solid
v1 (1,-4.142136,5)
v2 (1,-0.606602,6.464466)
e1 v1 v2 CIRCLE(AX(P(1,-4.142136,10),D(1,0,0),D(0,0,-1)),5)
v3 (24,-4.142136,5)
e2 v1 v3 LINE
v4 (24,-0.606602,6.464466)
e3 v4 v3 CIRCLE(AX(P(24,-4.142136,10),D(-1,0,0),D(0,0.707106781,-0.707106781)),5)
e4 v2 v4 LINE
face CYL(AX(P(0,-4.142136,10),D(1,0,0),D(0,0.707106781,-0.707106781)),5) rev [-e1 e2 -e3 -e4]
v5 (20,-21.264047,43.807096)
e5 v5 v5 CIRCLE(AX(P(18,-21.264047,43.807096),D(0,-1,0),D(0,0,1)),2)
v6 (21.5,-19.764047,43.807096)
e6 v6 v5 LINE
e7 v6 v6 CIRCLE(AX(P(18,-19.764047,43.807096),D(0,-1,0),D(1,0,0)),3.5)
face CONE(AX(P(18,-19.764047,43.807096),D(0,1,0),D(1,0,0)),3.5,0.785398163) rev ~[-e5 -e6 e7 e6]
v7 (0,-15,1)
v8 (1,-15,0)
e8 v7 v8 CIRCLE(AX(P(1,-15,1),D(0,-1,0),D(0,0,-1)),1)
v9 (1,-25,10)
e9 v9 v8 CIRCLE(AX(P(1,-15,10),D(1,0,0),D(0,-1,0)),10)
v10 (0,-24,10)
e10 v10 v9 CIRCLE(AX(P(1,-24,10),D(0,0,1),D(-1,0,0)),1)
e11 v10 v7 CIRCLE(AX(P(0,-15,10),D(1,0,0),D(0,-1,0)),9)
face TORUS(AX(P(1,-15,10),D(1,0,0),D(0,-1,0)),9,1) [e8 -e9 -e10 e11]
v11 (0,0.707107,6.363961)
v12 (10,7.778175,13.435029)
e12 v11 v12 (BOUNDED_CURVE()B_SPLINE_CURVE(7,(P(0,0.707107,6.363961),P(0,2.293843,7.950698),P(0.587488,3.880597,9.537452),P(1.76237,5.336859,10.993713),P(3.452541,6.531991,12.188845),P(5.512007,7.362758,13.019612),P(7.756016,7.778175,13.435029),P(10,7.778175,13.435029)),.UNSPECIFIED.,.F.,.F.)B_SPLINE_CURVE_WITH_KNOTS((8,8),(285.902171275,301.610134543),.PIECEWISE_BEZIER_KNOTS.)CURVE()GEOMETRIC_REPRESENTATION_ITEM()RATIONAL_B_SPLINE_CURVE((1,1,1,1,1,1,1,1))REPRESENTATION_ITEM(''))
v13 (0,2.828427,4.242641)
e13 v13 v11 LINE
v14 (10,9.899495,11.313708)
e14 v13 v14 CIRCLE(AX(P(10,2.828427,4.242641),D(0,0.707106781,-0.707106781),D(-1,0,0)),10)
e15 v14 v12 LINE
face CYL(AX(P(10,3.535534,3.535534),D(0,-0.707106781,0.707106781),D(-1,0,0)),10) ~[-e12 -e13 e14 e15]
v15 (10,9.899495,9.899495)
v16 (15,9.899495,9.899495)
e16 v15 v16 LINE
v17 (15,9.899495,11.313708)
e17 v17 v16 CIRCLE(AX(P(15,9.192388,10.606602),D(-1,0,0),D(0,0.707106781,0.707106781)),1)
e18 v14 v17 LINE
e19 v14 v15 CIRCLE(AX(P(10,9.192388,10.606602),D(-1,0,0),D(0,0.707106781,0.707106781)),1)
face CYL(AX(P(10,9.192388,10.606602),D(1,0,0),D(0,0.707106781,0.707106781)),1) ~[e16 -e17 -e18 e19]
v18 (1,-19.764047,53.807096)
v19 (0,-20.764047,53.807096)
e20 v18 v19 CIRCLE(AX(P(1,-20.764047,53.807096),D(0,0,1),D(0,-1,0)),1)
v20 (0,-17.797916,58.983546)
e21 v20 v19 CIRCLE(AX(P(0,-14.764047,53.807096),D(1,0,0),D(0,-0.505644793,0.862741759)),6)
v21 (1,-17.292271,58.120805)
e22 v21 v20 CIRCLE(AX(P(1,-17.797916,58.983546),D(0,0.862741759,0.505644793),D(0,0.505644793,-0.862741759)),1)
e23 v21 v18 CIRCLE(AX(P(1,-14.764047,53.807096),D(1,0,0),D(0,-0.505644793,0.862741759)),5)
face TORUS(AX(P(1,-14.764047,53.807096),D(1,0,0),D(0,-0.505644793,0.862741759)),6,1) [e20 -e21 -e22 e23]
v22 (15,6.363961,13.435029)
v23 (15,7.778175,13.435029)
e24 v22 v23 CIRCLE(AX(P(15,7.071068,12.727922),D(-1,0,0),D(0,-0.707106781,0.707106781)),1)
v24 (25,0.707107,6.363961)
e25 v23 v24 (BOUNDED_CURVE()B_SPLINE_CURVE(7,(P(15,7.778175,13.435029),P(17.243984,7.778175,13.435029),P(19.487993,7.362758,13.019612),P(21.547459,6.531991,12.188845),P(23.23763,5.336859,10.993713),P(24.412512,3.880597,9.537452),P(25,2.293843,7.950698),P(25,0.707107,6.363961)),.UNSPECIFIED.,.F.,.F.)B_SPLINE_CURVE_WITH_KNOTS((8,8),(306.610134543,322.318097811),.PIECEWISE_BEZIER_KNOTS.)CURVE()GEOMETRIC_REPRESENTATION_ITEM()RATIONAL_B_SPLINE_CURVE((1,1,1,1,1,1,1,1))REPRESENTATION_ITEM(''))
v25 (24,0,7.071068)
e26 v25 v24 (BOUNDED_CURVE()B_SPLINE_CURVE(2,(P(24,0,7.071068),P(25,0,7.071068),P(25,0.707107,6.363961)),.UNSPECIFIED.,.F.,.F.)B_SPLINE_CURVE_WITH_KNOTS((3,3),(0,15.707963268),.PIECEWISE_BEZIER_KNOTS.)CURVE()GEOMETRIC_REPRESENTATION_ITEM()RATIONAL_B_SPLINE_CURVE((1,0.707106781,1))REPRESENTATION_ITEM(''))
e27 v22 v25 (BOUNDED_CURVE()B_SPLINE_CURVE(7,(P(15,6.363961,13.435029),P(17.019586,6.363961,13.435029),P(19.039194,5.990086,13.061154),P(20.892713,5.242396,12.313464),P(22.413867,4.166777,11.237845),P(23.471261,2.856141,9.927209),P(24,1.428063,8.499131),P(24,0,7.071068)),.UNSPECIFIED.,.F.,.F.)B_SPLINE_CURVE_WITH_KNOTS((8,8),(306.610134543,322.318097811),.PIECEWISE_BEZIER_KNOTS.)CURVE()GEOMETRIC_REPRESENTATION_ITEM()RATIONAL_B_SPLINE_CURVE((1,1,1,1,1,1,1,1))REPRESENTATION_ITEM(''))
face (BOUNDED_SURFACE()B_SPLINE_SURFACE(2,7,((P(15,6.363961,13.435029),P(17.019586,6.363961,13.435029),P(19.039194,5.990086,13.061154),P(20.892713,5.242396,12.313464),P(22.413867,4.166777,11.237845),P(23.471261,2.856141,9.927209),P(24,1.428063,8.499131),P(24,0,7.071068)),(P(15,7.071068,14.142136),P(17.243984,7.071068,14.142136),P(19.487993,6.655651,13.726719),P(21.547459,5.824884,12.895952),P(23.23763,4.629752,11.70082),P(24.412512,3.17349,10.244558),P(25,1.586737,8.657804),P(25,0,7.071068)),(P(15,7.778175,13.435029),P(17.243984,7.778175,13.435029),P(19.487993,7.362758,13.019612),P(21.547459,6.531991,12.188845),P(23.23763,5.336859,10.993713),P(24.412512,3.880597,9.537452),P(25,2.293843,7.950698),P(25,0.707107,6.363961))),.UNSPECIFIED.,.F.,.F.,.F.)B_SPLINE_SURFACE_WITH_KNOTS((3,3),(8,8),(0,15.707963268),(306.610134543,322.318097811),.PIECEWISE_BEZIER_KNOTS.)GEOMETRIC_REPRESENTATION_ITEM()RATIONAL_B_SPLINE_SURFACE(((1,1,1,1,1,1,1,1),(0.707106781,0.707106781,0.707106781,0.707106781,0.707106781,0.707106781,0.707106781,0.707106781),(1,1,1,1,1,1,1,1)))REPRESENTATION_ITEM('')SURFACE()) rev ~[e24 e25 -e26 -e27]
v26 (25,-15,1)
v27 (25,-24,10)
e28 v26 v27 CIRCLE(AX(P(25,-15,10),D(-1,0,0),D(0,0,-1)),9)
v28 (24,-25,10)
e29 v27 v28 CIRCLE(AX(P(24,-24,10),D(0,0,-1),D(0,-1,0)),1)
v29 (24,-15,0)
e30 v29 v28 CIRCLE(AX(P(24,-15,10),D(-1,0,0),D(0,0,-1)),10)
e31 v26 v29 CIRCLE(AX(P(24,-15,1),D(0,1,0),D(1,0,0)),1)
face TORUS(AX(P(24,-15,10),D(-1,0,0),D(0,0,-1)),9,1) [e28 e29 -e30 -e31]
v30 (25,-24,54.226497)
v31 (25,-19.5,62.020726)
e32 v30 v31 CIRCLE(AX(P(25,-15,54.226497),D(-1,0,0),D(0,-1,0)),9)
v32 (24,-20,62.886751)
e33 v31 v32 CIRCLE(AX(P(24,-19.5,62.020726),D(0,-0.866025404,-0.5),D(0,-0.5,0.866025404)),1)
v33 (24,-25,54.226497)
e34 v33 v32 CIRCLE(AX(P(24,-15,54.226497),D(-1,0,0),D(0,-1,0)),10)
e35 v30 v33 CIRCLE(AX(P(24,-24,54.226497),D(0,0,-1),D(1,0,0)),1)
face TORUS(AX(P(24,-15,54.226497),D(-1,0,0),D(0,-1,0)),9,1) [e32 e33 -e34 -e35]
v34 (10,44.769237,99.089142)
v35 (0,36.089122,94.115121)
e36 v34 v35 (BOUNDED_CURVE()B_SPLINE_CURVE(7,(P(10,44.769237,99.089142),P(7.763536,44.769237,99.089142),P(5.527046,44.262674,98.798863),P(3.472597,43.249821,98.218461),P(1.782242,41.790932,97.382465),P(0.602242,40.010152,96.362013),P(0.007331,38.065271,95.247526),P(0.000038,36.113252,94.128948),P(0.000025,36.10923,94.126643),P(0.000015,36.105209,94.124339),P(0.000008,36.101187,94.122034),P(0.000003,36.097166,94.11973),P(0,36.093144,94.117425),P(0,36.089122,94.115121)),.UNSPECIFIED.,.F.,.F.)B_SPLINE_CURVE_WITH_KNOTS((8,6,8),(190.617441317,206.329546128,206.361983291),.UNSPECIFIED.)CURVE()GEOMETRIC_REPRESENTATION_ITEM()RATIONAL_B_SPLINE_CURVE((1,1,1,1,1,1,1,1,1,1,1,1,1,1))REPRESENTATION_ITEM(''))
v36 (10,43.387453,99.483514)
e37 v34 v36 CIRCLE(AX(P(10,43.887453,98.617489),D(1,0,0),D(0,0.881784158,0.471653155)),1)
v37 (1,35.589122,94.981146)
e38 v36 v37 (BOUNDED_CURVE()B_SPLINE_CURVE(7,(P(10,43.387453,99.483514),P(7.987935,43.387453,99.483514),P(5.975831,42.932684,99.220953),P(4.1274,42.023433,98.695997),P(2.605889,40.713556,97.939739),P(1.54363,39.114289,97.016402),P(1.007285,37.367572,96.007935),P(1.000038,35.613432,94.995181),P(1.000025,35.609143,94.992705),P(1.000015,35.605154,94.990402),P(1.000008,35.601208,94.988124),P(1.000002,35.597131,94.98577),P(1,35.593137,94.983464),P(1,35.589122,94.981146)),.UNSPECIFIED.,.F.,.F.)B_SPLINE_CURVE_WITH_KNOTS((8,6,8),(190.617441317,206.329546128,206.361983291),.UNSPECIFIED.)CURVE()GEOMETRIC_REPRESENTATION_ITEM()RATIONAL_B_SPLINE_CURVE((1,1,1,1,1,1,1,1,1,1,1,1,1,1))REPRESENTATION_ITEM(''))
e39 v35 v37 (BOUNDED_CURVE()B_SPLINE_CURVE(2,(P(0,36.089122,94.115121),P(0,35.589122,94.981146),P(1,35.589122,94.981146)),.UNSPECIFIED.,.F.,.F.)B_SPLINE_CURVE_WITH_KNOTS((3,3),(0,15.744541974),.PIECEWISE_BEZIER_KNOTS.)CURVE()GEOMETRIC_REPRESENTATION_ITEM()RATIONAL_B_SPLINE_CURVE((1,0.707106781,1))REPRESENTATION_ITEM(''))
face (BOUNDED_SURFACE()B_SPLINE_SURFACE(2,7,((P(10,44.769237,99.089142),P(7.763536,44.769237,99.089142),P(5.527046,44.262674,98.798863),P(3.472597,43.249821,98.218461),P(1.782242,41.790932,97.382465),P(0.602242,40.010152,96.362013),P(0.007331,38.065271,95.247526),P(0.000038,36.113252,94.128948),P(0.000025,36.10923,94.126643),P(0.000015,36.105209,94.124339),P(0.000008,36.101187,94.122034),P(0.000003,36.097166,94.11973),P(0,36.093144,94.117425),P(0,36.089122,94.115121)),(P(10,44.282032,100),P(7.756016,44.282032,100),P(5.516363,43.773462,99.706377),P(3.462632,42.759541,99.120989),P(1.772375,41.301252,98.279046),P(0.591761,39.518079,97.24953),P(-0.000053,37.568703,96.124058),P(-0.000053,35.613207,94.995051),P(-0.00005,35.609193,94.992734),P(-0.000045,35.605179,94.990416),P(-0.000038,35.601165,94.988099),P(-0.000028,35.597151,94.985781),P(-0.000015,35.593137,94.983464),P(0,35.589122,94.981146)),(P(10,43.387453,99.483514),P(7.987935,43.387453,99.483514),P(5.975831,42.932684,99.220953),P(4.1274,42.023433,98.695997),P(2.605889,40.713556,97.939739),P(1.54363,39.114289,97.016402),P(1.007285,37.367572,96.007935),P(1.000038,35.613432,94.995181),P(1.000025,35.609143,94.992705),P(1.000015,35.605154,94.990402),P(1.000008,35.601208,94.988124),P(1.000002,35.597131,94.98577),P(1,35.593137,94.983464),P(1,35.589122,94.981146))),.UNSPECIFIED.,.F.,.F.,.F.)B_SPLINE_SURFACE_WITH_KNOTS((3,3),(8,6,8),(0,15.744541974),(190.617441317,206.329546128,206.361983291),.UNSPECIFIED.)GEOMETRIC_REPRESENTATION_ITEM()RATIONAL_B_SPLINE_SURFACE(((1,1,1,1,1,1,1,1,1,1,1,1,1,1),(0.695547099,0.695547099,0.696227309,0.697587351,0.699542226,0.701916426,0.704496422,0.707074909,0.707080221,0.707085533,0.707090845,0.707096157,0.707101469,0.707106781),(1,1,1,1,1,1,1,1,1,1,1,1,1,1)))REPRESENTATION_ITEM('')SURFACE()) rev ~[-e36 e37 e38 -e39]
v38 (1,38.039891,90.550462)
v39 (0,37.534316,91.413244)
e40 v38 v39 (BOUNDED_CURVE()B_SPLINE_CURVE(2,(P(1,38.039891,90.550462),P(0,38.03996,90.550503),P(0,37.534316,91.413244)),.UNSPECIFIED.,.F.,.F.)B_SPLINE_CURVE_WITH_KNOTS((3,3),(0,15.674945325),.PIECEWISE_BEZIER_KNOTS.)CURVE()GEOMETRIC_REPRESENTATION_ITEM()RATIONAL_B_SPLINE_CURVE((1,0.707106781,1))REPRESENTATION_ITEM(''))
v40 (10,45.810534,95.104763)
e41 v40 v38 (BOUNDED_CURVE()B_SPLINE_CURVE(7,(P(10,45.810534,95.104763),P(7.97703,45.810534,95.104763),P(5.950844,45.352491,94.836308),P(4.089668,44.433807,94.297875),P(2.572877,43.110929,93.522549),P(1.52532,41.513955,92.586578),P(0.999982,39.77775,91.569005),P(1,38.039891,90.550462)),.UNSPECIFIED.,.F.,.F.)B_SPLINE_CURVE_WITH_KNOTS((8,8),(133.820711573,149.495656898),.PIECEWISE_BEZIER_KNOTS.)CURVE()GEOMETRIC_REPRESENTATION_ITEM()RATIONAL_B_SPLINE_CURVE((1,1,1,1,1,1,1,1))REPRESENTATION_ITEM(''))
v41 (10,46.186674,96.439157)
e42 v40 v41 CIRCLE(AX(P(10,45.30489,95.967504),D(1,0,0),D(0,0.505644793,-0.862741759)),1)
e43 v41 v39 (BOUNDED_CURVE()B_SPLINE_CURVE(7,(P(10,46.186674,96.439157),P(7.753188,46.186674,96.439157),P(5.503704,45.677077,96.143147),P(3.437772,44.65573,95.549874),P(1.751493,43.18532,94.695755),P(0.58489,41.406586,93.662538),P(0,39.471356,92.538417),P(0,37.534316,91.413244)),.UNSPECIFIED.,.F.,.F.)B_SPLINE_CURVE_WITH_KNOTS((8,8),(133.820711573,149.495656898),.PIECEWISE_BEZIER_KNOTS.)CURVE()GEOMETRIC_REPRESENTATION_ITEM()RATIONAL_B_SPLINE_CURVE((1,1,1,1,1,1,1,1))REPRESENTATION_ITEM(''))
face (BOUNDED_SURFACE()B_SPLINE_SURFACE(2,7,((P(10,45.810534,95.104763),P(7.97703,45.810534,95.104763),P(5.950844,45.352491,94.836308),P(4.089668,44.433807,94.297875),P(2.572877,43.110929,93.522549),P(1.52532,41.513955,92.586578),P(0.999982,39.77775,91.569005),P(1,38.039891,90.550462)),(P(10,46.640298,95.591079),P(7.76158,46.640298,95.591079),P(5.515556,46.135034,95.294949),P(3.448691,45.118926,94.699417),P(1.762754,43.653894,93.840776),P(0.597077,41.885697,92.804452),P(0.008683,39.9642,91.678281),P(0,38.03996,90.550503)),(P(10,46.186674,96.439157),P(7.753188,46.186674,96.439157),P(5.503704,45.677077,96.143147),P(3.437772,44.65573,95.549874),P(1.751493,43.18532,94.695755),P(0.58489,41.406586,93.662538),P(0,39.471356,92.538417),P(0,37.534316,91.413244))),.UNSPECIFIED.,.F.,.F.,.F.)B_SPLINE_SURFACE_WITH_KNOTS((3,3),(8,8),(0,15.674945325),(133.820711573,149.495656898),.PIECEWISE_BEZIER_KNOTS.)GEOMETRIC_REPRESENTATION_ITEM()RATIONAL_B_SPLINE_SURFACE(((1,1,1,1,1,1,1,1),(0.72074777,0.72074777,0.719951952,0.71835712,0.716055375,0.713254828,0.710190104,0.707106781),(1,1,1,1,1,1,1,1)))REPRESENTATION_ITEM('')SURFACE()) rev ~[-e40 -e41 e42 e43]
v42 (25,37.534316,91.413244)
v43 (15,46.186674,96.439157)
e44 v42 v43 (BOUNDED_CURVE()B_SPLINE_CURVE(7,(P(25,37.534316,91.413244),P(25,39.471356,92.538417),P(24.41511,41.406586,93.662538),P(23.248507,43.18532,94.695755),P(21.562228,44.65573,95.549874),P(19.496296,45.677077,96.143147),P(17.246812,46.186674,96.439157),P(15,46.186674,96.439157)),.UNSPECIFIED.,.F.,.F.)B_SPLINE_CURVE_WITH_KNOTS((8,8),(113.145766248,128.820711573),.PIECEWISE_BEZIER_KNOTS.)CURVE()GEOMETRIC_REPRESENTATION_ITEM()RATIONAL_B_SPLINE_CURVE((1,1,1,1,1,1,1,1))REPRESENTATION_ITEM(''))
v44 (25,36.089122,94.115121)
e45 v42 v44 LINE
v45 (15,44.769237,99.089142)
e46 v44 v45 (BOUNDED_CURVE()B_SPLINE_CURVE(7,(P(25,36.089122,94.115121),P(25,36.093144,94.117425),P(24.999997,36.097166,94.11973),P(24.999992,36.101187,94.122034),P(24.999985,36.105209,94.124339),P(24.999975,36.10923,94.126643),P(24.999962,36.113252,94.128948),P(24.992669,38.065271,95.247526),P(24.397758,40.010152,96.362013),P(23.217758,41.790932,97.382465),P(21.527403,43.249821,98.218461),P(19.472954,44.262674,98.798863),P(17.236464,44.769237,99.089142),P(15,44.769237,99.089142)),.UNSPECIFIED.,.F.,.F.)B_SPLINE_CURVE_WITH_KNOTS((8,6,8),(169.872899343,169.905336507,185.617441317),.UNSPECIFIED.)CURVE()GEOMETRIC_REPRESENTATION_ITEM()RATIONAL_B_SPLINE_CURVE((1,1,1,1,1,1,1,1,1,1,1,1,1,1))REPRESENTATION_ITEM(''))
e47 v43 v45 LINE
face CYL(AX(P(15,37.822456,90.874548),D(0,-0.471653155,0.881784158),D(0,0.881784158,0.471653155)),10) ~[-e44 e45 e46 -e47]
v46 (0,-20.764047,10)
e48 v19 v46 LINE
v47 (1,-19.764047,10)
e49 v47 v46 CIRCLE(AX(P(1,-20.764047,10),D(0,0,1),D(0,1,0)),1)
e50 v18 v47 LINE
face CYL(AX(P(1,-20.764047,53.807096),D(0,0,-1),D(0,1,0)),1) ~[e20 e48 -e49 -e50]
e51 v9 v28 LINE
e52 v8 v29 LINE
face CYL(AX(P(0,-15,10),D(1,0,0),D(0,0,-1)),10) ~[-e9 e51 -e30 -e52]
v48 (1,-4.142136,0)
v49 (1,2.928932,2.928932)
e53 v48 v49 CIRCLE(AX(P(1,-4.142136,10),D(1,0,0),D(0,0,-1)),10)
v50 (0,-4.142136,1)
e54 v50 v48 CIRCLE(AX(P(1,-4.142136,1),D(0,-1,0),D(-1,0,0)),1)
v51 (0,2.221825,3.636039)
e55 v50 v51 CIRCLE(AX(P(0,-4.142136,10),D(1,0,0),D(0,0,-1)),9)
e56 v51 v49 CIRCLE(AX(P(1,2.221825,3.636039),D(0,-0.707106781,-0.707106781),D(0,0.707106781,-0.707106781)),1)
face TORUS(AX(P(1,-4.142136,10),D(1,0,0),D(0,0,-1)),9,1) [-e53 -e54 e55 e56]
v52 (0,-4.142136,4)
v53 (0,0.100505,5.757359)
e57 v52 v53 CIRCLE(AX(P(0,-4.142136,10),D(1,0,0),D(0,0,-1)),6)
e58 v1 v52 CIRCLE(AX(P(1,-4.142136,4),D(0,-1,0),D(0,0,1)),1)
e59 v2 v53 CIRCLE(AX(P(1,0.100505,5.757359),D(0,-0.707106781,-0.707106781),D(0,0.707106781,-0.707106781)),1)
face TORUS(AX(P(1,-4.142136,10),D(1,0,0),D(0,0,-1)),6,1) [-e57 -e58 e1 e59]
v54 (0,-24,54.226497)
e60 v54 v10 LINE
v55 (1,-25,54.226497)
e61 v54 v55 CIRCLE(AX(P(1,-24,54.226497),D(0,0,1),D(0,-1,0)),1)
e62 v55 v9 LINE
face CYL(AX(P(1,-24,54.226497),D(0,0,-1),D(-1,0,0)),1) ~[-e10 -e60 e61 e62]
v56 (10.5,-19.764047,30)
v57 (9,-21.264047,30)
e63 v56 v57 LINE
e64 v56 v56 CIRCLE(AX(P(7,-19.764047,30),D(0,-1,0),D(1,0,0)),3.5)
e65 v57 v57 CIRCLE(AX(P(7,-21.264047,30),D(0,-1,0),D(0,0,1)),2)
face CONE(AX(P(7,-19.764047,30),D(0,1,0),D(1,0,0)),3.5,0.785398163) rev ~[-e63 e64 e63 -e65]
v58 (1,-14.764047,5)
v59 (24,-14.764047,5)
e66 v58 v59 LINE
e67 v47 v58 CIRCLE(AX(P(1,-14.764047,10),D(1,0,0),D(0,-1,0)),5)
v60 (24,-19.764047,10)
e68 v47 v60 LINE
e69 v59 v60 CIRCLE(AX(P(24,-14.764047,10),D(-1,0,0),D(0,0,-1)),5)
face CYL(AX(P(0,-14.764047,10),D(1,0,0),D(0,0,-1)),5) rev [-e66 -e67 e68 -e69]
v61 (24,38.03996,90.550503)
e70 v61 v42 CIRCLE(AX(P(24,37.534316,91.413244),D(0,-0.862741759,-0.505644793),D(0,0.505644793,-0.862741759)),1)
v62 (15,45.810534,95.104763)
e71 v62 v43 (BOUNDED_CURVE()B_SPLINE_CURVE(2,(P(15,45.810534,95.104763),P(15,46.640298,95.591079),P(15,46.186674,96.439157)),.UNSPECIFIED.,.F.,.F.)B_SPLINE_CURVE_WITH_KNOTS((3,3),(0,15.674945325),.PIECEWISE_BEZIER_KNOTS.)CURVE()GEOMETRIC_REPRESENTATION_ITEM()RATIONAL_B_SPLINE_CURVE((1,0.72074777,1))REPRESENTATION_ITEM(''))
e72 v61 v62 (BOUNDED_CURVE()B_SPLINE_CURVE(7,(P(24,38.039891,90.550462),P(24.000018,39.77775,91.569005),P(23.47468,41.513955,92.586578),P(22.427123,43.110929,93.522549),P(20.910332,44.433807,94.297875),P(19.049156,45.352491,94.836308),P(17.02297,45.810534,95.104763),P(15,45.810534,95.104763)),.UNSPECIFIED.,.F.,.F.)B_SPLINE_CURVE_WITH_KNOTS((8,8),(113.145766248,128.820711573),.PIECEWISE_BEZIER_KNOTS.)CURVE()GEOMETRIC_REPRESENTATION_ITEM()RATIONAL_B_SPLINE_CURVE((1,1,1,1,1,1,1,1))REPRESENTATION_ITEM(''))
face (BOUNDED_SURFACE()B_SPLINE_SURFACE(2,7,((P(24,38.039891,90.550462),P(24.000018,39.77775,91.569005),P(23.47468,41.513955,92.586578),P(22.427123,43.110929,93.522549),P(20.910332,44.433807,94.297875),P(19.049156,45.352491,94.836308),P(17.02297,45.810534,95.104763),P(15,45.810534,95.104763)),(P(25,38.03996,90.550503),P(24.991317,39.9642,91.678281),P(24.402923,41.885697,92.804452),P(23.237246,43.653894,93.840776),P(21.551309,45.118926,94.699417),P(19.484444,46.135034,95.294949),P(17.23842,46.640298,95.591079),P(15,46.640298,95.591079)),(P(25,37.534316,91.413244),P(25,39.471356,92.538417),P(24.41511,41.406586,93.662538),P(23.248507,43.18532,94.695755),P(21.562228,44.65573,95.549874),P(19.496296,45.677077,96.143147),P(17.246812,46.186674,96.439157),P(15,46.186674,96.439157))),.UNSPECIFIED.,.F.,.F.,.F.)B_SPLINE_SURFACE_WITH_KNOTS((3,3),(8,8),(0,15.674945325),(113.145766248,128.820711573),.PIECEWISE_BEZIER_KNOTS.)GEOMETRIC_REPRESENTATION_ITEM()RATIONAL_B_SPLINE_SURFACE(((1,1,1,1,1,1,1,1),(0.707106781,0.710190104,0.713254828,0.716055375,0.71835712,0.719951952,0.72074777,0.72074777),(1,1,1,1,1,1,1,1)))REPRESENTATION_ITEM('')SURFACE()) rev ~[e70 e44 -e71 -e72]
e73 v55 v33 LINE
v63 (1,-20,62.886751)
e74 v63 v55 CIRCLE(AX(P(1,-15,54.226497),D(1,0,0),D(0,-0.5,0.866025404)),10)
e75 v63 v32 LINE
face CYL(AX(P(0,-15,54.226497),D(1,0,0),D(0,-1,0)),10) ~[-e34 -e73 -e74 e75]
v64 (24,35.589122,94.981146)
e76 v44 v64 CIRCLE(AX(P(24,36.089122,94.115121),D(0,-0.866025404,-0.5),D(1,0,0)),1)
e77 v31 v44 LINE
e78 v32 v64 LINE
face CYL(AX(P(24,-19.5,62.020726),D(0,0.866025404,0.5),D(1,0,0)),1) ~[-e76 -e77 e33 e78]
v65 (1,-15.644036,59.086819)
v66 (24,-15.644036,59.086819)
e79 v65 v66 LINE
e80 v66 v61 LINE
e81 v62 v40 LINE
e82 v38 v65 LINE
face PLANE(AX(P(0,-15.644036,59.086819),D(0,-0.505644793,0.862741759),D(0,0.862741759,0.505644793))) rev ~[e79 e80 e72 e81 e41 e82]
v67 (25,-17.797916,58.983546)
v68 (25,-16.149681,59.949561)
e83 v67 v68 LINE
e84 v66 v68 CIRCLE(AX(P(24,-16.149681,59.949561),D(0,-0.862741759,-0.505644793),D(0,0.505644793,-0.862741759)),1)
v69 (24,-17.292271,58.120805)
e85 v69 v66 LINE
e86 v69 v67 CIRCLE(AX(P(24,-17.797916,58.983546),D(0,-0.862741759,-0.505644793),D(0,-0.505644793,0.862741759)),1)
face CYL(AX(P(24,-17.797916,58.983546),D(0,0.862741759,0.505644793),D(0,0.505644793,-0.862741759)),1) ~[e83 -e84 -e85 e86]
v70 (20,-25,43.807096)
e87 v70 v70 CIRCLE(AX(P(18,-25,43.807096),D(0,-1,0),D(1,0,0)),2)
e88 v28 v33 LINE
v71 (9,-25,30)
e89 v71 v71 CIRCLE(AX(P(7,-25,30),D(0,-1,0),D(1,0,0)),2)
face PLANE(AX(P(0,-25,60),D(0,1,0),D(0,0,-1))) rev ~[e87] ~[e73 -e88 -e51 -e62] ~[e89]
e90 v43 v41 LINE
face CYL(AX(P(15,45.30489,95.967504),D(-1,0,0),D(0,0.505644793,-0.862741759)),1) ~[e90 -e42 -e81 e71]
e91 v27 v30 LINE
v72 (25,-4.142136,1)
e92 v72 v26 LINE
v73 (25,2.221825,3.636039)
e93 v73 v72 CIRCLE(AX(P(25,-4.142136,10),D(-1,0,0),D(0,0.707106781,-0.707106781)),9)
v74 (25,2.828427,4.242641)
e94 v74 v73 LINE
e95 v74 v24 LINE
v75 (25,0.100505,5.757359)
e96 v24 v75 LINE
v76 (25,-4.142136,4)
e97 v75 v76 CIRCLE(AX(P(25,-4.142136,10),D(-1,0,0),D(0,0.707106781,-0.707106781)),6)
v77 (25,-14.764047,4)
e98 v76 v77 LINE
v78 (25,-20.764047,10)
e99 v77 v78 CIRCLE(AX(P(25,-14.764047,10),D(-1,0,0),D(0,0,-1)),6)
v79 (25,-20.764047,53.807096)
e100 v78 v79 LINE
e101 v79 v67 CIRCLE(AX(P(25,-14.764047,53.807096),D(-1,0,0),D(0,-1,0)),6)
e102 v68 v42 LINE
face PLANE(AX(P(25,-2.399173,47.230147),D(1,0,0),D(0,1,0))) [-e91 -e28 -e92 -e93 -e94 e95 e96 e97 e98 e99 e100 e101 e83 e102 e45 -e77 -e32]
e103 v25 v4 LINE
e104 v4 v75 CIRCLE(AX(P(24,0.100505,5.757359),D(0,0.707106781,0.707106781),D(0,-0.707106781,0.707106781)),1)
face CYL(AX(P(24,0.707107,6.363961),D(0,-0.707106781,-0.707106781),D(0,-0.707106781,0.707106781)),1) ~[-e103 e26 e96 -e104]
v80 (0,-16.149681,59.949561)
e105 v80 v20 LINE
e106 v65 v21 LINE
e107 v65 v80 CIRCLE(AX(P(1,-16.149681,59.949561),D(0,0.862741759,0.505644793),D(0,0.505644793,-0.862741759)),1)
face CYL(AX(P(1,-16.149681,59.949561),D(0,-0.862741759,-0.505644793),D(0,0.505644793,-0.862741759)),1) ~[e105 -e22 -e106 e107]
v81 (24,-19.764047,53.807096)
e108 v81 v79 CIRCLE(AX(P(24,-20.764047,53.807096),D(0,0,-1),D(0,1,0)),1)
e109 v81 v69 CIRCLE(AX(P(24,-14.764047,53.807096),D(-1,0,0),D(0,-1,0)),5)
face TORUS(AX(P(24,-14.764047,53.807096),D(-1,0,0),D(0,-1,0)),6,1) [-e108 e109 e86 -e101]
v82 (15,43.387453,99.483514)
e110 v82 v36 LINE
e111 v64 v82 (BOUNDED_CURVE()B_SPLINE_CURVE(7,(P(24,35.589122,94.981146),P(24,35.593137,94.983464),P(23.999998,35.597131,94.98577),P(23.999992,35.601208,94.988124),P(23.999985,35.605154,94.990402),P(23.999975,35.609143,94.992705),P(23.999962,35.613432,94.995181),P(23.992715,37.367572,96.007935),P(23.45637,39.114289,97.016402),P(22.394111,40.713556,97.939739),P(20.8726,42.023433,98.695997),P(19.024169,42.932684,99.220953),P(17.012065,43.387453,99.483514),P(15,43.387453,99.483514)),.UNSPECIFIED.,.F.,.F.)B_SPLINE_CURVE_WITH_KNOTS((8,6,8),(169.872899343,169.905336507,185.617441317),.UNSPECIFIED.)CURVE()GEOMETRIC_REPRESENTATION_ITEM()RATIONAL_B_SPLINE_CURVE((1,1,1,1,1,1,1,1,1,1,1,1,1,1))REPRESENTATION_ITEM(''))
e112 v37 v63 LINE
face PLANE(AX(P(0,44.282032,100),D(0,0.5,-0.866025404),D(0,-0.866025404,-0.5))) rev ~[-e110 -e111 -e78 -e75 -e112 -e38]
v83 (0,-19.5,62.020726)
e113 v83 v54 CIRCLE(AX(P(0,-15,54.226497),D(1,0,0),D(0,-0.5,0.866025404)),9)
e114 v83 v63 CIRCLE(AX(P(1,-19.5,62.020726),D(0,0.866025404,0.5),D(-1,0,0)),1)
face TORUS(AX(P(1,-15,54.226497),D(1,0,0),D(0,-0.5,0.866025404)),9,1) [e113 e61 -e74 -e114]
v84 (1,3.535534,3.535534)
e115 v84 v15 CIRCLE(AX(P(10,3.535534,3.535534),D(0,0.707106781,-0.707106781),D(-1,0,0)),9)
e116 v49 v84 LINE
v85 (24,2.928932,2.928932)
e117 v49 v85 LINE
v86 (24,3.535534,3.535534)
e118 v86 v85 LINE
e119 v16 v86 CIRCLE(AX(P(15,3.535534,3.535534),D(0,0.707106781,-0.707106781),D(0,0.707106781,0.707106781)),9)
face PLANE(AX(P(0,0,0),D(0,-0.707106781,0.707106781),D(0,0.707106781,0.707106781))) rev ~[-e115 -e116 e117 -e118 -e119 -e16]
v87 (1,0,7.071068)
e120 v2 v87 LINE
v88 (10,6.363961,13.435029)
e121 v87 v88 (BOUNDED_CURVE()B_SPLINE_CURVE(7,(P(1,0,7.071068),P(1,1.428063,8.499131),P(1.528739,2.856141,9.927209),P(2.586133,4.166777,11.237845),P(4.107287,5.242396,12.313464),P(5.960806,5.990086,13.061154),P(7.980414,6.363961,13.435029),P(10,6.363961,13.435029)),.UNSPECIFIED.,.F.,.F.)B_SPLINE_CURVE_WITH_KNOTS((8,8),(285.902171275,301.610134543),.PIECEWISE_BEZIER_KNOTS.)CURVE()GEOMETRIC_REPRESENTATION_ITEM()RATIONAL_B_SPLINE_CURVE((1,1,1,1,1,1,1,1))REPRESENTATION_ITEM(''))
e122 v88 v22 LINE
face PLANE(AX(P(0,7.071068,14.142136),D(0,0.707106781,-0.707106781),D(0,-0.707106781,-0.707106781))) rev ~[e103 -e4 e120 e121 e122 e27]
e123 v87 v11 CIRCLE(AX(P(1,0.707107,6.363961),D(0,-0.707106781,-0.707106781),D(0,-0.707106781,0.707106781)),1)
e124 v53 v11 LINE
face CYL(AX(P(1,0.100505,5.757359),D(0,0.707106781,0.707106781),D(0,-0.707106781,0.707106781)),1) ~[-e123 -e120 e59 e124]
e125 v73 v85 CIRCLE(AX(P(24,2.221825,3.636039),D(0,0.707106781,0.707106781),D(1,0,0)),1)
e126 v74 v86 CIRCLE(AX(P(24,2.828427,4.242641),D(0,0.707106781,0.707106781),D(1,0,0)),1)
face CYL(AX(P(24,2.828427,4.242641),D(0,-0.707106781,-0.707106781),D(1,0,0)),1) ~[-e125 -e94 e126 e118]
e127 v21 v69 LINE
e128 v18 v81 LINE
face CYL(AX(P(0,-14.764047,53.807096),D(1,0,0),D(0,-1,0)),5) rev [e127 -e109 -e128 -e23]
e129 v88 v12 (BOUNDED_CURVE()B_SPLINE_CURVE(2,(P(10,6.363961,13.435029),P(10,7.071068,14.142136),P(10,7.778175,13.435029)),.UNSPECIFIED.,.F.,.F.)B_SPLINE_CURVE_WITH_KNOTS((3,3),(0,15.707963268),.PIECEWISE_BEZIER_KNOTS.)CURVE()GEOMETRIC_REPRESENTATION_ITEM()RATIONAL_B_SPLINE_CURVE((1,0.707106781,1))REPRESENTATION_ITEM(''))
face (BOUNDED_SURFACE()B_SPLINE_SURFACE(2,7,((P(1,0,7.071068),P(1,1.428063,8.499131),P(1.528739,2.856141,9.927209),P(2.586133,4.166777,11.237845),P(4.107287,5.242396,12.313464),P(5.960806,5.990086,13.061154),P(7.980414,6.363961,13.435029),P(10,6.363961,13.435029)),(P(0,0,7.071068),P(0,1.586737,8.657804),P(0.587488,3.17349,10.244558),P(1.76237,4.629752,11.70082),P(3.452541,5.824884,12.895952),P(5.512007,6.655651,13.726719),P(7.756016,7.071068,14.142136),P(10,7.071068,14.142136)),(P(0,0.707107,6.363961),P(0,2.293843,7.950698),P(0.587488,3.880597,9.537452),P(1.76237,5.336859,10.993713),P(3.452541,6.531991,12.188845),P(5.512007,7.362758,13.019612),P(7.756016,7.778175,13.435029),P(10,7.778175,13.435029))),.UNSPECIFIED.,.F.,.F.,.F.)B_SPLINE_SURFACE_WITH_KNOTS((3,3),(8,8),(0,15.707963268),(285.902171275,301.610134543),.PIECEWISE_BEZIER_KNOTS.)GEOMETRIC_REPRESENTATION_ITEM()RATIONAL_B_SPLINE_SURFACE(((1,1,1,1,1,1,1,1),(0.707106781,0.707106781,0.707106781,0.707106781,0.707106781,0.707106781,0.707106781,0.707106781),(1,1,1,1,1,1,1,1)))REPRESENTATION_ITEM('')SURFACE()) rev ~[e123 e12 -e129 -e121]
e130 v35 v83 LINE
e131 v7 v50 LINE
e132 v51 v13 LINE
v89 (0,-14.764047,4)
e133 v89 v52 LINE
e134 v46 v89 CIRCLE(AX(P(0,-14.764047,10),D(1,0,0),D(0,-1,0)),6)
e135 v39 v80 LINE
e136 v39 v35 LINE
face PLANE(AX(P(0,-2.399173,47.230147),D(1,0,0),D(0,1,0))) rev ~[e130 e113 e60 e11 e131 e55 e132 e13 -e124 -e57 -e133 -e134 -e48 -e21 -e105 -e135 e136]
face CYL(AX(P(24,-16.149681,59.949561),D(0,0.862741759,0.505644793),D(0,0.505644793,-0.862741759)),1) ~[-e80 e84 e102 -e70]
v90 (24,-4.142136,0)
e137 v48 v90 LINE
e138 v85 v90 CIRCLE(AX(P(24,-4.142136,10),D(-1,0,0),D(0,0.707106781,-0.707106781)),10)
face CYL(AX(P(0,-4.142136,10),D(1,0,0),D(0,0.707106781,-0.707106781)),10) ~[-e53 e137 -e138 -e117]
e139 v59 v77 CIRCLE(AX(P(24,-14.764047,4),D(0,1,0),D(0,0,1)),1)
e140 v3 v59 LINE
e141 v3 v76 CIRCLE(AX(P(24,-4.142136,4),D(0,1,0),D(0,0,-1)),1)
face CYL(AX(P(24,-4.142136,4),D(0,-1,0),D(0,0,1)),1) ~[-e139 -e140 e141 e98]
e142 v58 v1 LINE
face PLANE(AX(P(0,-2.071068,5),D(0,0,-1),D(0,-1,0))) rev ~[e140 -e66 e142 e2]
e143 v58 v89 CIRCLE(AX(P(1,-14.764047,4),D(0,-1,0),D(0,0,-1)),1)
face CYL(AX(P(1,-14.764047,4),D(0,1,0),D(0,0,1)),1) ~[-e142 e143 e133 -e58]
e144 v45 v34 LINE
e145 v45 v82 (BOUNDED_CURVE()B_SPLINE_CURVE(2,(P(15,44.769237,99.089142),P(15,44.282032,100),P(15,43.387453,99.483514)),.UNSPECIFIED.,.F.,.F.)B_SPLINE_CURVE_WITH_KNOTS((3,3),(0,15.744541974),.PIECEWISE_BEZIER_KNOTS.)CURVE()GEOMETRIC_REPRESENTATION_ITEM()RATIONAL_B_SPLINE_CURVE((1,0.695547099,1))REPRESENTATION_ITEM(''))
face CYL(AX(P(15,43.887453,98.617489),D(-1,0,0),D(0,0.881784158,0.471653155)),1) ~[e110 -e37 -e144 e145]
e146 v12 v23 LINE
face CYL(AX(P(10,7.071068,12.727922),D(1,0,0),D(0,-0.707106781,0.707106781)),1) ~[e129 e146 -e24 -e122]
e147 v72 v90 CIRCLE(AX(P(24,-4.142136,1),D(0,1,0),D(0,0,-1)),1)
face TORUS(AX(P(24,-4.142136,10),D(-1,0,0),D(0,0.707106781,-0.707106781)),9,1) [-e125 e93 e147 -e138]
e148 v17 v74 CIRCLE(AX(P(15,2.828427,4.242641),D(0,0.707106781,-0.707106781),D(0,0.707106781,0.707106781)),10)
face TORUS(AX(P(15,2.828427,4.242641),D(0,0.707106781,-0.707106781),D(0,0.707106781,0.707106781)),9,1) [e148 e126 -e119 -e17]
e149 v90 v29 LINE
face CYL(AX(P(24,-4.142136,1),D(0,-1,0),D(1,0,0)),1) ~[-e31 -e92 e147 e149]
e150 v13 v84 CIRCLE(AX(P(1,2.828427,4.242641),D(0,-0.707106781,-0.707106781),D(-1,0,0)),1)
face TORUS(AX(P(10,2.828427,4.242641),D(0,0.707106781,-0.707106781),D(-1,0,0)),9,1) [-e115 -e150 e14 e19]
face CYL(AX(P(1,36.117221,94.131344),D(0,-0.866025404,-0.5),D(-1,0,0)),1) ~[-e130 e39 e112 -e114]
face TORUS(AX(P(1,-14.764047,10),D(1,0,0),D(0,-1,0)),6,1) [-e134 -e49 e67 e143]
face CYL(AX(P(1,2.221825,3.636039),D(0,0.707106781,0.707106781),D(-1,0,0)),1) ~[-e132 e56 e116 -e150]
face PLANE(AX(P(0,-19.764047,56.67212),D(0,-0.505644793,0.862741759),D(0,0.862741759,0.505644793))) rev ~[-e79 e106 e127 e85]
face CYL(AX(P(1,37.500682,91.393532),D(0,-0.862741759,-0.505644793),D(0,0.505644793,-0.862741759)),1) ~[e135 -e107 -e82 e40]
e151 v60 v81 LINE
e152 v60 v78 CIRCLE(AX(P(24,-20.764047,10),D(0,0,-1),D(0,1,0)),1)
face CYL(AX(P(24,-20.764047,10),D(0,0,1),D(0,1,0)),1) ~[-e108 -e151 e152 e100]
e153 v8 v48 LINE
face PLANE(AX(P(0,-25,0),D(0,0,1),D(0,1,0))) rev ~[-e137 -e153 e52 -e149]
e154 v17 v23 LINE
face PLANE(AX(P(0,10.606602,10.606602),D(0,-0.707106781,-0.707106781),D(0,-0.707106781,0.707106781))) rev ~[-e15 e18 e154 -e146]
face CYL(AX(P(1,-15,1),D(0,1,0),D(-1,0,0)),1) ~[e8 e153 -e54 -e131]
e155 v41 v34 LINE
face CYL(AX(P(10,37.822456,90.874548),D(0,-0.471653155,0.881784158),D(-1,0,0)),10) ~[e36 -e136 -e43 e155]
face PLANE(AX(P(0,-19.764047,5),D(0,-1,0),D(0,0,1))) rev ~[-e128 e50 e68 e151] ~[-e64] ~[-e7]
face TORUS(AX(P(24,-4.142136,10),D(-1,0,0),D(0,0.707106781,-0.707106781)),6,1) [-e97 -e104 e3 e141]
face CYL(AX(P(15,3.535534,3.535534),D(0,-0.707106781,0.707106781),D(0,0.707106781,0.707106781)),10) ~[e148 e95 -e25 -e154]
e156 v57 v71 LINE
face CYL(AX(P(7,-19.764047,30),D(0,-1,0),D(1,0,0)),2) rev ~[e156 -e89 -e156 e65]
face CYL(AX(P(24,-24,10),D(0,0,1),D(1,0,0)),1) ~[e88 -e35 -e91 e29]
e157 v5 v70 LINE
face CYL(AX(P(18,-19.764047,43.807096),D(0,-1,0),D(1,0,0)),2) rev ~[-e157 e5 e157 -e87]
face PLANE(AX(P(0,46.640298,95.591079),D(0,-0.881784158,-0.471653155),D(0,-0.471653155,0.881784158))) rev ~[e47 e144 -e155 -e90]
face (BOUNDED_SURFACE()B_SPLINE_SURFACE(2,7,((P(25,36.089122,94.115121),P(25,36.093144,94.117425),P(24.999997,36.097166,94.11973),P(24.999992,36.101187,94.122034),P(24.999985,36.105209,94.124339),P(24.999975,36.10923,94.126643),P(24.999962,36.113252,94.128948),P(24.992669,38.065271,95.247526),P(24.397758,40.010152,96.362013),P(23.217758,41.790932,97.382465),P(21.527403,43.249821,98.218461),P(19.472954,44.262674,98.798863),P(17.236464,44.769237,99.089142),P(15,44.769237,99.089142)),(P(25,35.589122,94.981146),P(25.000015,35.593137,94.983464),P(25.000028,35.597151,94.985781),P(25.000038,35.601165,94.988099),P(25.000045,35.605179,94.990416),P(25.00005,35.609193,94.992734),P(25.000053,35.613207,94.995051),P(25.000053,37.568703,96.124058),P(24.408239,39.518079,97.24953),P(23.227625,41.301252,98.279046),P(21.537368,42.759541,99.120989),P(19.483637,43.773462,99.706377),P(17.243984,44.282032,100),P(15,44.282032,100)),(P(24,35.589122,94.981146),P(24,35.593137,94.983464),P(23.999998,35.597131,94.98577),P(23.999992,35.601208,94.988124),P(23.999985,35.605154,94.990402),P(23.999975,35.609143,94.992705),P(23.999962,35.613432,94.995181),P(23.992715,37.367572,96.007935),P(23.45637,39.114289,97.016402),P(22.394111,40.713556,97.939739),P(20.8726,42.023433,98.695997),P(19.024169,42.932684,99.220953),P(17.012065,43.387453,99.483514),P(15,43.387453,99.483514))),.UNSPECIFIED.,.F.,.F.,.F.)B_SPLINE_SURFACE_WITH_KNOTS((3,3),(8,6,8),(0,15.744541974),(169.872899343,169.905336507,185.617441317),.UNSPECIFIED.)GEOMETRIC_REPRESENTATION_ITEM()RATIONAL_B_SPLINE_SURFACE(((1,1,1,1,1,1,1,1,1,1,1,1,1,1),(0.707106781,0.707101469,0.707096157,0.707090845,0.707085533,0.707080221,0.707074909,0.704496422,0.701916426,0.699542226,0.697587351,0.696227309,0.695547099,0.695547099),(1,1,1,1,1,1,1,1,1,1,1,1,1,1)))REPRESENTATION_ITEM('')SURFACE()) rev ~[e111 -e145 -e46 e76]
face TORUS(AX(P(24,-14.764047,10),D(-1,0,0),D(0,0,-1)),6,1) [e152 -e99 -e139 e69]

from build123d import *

# Parameters (mm, degrees)
F1_DEPTH       = 25
F2_R           = 5
F3_R           = 10
F4_R           = 10
F5_R           = 10
F6_R           = 1
F8_D           = 4
F8_CSINK_D     = 7
F8_CSINK_ANGLE = 90
F9_R           = 1


with BuildPart() as f1:
    # F0 (on Right) → F1 (new body)
    with BuildSketch(Plane.YZ):
        Polygon((-25, 0), (0, 0), (10.6066017178, 10.6066017178), (7.0710678119, 14.1421356237), (-2.0710678119, 5), (-19.7640469252, 5), (-19.7640469252, 6.6023203544), (-19.7640469252, 56.6721200803), (-15.6440361776, 59.0868194482), (46.6402980765, 95.5910792091), (44.2820323028, 100), (-25, 60), align=None)
    extrude(amount=F1_DEPTH)

    # F2
    f2_edges = [f1.edges().sort_by_distance(p)[0] for p in [
        (12.5, -19.764047, 56.67212),
        (12.5, -19.764047, 5),
        (12.5, -2.071068, 5),
    ]]
    fillet(f2_edges, radius=F2_R)

    # F3
    f3_edges = [f1.edges().sort_by_distance(p)[0] for p in [
        (12.5, -25, 60),
        (12.5, -25, 0),
        (12.5, 0, 0),
    ]]
    fillet(f3_edges, radius=F3_R)

    # F4
    f4_edges = [f1.edges().sort_by_distance(p)[0] for p in [
        (25, 8.838835, 12.374369),
        (0, 8.838835, 12.374369),
    ]]
    fillet(f4_edges, radius=F4_R)

    # F5
    f5_edges = [f1.edges().sort_by_distance(p)[0] for p in [
        (25, 45.461165, 97.79554),
        (0, 45.461165, 97.79554),
    ]]
    fillet(f5_edges, radius=F5_R)

    # F6
    f6_edges = [f1.edges().sort_by_distance(p)[0] for p in [
        (25, -19.764047, 31.903548),
        (25, 10.357028, 74.325798),
        (25, -19.102314, 56.292944),
        (22.07241, 44.110307, 94.108276),
        (12.5, 46.640298, 95.591079),
        (2.92759, 44.110307, 94.108276),
        (0, 10.357028, 74.325798),
        (0, -19.102314, 56.292944),
        (0, -19.764047, 31.903548),
    ]]
    fillet(f6_edges, radius=F6_R)

    # F8 (through all)
    with Locations(Plane(origin=(0, -19.7640469252, 0), x_dir=(-1, 0, 0), z_dir=(0, 1, 0))):
        with Locations((-18, 43.8070958611), (-7, 30)):
            CounterSinkHole(F8_D / 2, F8_CSINK_D / 2, counter_sink_angle=F8_CSINK_ANGLE)

    # F9
    f9_edges = [f1.edges().sort_by_distance(p)[0] for p in [
        (22.071068, 8.535534, 8.535534),
        (12.5, 10.606602, 10.606602),
        (2.928932, 8.535534, 8.535534),
        (0, -0.315301, 0.761205),
        (0, 3.232233, 3.232233),
        (0, -9.571068, 0),
        (25, -0.315301, 0.761205),
        (25, 3.232233, 3.232233),
        (25, -9.571068, 0),
        (25, -22.071068, 2.928932),
        (0, -22.071068, 2.928932),
        (25, -25, 32.113249),
        (0, -25, 32.113249),
        (25, -23.660254, 59.226497),
        (25, 7.808611, 78.94206),
        (0, -23.660254, 59.226497),
        (0, 7.808611, 78.94206),
        (22.071998, 41.743362, 98.534298),
        (2.928002, 41.743362, 98.534298),
        (12.5, 44.282032, 100),
    ]]
    fillet(f9_edges, radius=F9_R)


solid = f1.part
